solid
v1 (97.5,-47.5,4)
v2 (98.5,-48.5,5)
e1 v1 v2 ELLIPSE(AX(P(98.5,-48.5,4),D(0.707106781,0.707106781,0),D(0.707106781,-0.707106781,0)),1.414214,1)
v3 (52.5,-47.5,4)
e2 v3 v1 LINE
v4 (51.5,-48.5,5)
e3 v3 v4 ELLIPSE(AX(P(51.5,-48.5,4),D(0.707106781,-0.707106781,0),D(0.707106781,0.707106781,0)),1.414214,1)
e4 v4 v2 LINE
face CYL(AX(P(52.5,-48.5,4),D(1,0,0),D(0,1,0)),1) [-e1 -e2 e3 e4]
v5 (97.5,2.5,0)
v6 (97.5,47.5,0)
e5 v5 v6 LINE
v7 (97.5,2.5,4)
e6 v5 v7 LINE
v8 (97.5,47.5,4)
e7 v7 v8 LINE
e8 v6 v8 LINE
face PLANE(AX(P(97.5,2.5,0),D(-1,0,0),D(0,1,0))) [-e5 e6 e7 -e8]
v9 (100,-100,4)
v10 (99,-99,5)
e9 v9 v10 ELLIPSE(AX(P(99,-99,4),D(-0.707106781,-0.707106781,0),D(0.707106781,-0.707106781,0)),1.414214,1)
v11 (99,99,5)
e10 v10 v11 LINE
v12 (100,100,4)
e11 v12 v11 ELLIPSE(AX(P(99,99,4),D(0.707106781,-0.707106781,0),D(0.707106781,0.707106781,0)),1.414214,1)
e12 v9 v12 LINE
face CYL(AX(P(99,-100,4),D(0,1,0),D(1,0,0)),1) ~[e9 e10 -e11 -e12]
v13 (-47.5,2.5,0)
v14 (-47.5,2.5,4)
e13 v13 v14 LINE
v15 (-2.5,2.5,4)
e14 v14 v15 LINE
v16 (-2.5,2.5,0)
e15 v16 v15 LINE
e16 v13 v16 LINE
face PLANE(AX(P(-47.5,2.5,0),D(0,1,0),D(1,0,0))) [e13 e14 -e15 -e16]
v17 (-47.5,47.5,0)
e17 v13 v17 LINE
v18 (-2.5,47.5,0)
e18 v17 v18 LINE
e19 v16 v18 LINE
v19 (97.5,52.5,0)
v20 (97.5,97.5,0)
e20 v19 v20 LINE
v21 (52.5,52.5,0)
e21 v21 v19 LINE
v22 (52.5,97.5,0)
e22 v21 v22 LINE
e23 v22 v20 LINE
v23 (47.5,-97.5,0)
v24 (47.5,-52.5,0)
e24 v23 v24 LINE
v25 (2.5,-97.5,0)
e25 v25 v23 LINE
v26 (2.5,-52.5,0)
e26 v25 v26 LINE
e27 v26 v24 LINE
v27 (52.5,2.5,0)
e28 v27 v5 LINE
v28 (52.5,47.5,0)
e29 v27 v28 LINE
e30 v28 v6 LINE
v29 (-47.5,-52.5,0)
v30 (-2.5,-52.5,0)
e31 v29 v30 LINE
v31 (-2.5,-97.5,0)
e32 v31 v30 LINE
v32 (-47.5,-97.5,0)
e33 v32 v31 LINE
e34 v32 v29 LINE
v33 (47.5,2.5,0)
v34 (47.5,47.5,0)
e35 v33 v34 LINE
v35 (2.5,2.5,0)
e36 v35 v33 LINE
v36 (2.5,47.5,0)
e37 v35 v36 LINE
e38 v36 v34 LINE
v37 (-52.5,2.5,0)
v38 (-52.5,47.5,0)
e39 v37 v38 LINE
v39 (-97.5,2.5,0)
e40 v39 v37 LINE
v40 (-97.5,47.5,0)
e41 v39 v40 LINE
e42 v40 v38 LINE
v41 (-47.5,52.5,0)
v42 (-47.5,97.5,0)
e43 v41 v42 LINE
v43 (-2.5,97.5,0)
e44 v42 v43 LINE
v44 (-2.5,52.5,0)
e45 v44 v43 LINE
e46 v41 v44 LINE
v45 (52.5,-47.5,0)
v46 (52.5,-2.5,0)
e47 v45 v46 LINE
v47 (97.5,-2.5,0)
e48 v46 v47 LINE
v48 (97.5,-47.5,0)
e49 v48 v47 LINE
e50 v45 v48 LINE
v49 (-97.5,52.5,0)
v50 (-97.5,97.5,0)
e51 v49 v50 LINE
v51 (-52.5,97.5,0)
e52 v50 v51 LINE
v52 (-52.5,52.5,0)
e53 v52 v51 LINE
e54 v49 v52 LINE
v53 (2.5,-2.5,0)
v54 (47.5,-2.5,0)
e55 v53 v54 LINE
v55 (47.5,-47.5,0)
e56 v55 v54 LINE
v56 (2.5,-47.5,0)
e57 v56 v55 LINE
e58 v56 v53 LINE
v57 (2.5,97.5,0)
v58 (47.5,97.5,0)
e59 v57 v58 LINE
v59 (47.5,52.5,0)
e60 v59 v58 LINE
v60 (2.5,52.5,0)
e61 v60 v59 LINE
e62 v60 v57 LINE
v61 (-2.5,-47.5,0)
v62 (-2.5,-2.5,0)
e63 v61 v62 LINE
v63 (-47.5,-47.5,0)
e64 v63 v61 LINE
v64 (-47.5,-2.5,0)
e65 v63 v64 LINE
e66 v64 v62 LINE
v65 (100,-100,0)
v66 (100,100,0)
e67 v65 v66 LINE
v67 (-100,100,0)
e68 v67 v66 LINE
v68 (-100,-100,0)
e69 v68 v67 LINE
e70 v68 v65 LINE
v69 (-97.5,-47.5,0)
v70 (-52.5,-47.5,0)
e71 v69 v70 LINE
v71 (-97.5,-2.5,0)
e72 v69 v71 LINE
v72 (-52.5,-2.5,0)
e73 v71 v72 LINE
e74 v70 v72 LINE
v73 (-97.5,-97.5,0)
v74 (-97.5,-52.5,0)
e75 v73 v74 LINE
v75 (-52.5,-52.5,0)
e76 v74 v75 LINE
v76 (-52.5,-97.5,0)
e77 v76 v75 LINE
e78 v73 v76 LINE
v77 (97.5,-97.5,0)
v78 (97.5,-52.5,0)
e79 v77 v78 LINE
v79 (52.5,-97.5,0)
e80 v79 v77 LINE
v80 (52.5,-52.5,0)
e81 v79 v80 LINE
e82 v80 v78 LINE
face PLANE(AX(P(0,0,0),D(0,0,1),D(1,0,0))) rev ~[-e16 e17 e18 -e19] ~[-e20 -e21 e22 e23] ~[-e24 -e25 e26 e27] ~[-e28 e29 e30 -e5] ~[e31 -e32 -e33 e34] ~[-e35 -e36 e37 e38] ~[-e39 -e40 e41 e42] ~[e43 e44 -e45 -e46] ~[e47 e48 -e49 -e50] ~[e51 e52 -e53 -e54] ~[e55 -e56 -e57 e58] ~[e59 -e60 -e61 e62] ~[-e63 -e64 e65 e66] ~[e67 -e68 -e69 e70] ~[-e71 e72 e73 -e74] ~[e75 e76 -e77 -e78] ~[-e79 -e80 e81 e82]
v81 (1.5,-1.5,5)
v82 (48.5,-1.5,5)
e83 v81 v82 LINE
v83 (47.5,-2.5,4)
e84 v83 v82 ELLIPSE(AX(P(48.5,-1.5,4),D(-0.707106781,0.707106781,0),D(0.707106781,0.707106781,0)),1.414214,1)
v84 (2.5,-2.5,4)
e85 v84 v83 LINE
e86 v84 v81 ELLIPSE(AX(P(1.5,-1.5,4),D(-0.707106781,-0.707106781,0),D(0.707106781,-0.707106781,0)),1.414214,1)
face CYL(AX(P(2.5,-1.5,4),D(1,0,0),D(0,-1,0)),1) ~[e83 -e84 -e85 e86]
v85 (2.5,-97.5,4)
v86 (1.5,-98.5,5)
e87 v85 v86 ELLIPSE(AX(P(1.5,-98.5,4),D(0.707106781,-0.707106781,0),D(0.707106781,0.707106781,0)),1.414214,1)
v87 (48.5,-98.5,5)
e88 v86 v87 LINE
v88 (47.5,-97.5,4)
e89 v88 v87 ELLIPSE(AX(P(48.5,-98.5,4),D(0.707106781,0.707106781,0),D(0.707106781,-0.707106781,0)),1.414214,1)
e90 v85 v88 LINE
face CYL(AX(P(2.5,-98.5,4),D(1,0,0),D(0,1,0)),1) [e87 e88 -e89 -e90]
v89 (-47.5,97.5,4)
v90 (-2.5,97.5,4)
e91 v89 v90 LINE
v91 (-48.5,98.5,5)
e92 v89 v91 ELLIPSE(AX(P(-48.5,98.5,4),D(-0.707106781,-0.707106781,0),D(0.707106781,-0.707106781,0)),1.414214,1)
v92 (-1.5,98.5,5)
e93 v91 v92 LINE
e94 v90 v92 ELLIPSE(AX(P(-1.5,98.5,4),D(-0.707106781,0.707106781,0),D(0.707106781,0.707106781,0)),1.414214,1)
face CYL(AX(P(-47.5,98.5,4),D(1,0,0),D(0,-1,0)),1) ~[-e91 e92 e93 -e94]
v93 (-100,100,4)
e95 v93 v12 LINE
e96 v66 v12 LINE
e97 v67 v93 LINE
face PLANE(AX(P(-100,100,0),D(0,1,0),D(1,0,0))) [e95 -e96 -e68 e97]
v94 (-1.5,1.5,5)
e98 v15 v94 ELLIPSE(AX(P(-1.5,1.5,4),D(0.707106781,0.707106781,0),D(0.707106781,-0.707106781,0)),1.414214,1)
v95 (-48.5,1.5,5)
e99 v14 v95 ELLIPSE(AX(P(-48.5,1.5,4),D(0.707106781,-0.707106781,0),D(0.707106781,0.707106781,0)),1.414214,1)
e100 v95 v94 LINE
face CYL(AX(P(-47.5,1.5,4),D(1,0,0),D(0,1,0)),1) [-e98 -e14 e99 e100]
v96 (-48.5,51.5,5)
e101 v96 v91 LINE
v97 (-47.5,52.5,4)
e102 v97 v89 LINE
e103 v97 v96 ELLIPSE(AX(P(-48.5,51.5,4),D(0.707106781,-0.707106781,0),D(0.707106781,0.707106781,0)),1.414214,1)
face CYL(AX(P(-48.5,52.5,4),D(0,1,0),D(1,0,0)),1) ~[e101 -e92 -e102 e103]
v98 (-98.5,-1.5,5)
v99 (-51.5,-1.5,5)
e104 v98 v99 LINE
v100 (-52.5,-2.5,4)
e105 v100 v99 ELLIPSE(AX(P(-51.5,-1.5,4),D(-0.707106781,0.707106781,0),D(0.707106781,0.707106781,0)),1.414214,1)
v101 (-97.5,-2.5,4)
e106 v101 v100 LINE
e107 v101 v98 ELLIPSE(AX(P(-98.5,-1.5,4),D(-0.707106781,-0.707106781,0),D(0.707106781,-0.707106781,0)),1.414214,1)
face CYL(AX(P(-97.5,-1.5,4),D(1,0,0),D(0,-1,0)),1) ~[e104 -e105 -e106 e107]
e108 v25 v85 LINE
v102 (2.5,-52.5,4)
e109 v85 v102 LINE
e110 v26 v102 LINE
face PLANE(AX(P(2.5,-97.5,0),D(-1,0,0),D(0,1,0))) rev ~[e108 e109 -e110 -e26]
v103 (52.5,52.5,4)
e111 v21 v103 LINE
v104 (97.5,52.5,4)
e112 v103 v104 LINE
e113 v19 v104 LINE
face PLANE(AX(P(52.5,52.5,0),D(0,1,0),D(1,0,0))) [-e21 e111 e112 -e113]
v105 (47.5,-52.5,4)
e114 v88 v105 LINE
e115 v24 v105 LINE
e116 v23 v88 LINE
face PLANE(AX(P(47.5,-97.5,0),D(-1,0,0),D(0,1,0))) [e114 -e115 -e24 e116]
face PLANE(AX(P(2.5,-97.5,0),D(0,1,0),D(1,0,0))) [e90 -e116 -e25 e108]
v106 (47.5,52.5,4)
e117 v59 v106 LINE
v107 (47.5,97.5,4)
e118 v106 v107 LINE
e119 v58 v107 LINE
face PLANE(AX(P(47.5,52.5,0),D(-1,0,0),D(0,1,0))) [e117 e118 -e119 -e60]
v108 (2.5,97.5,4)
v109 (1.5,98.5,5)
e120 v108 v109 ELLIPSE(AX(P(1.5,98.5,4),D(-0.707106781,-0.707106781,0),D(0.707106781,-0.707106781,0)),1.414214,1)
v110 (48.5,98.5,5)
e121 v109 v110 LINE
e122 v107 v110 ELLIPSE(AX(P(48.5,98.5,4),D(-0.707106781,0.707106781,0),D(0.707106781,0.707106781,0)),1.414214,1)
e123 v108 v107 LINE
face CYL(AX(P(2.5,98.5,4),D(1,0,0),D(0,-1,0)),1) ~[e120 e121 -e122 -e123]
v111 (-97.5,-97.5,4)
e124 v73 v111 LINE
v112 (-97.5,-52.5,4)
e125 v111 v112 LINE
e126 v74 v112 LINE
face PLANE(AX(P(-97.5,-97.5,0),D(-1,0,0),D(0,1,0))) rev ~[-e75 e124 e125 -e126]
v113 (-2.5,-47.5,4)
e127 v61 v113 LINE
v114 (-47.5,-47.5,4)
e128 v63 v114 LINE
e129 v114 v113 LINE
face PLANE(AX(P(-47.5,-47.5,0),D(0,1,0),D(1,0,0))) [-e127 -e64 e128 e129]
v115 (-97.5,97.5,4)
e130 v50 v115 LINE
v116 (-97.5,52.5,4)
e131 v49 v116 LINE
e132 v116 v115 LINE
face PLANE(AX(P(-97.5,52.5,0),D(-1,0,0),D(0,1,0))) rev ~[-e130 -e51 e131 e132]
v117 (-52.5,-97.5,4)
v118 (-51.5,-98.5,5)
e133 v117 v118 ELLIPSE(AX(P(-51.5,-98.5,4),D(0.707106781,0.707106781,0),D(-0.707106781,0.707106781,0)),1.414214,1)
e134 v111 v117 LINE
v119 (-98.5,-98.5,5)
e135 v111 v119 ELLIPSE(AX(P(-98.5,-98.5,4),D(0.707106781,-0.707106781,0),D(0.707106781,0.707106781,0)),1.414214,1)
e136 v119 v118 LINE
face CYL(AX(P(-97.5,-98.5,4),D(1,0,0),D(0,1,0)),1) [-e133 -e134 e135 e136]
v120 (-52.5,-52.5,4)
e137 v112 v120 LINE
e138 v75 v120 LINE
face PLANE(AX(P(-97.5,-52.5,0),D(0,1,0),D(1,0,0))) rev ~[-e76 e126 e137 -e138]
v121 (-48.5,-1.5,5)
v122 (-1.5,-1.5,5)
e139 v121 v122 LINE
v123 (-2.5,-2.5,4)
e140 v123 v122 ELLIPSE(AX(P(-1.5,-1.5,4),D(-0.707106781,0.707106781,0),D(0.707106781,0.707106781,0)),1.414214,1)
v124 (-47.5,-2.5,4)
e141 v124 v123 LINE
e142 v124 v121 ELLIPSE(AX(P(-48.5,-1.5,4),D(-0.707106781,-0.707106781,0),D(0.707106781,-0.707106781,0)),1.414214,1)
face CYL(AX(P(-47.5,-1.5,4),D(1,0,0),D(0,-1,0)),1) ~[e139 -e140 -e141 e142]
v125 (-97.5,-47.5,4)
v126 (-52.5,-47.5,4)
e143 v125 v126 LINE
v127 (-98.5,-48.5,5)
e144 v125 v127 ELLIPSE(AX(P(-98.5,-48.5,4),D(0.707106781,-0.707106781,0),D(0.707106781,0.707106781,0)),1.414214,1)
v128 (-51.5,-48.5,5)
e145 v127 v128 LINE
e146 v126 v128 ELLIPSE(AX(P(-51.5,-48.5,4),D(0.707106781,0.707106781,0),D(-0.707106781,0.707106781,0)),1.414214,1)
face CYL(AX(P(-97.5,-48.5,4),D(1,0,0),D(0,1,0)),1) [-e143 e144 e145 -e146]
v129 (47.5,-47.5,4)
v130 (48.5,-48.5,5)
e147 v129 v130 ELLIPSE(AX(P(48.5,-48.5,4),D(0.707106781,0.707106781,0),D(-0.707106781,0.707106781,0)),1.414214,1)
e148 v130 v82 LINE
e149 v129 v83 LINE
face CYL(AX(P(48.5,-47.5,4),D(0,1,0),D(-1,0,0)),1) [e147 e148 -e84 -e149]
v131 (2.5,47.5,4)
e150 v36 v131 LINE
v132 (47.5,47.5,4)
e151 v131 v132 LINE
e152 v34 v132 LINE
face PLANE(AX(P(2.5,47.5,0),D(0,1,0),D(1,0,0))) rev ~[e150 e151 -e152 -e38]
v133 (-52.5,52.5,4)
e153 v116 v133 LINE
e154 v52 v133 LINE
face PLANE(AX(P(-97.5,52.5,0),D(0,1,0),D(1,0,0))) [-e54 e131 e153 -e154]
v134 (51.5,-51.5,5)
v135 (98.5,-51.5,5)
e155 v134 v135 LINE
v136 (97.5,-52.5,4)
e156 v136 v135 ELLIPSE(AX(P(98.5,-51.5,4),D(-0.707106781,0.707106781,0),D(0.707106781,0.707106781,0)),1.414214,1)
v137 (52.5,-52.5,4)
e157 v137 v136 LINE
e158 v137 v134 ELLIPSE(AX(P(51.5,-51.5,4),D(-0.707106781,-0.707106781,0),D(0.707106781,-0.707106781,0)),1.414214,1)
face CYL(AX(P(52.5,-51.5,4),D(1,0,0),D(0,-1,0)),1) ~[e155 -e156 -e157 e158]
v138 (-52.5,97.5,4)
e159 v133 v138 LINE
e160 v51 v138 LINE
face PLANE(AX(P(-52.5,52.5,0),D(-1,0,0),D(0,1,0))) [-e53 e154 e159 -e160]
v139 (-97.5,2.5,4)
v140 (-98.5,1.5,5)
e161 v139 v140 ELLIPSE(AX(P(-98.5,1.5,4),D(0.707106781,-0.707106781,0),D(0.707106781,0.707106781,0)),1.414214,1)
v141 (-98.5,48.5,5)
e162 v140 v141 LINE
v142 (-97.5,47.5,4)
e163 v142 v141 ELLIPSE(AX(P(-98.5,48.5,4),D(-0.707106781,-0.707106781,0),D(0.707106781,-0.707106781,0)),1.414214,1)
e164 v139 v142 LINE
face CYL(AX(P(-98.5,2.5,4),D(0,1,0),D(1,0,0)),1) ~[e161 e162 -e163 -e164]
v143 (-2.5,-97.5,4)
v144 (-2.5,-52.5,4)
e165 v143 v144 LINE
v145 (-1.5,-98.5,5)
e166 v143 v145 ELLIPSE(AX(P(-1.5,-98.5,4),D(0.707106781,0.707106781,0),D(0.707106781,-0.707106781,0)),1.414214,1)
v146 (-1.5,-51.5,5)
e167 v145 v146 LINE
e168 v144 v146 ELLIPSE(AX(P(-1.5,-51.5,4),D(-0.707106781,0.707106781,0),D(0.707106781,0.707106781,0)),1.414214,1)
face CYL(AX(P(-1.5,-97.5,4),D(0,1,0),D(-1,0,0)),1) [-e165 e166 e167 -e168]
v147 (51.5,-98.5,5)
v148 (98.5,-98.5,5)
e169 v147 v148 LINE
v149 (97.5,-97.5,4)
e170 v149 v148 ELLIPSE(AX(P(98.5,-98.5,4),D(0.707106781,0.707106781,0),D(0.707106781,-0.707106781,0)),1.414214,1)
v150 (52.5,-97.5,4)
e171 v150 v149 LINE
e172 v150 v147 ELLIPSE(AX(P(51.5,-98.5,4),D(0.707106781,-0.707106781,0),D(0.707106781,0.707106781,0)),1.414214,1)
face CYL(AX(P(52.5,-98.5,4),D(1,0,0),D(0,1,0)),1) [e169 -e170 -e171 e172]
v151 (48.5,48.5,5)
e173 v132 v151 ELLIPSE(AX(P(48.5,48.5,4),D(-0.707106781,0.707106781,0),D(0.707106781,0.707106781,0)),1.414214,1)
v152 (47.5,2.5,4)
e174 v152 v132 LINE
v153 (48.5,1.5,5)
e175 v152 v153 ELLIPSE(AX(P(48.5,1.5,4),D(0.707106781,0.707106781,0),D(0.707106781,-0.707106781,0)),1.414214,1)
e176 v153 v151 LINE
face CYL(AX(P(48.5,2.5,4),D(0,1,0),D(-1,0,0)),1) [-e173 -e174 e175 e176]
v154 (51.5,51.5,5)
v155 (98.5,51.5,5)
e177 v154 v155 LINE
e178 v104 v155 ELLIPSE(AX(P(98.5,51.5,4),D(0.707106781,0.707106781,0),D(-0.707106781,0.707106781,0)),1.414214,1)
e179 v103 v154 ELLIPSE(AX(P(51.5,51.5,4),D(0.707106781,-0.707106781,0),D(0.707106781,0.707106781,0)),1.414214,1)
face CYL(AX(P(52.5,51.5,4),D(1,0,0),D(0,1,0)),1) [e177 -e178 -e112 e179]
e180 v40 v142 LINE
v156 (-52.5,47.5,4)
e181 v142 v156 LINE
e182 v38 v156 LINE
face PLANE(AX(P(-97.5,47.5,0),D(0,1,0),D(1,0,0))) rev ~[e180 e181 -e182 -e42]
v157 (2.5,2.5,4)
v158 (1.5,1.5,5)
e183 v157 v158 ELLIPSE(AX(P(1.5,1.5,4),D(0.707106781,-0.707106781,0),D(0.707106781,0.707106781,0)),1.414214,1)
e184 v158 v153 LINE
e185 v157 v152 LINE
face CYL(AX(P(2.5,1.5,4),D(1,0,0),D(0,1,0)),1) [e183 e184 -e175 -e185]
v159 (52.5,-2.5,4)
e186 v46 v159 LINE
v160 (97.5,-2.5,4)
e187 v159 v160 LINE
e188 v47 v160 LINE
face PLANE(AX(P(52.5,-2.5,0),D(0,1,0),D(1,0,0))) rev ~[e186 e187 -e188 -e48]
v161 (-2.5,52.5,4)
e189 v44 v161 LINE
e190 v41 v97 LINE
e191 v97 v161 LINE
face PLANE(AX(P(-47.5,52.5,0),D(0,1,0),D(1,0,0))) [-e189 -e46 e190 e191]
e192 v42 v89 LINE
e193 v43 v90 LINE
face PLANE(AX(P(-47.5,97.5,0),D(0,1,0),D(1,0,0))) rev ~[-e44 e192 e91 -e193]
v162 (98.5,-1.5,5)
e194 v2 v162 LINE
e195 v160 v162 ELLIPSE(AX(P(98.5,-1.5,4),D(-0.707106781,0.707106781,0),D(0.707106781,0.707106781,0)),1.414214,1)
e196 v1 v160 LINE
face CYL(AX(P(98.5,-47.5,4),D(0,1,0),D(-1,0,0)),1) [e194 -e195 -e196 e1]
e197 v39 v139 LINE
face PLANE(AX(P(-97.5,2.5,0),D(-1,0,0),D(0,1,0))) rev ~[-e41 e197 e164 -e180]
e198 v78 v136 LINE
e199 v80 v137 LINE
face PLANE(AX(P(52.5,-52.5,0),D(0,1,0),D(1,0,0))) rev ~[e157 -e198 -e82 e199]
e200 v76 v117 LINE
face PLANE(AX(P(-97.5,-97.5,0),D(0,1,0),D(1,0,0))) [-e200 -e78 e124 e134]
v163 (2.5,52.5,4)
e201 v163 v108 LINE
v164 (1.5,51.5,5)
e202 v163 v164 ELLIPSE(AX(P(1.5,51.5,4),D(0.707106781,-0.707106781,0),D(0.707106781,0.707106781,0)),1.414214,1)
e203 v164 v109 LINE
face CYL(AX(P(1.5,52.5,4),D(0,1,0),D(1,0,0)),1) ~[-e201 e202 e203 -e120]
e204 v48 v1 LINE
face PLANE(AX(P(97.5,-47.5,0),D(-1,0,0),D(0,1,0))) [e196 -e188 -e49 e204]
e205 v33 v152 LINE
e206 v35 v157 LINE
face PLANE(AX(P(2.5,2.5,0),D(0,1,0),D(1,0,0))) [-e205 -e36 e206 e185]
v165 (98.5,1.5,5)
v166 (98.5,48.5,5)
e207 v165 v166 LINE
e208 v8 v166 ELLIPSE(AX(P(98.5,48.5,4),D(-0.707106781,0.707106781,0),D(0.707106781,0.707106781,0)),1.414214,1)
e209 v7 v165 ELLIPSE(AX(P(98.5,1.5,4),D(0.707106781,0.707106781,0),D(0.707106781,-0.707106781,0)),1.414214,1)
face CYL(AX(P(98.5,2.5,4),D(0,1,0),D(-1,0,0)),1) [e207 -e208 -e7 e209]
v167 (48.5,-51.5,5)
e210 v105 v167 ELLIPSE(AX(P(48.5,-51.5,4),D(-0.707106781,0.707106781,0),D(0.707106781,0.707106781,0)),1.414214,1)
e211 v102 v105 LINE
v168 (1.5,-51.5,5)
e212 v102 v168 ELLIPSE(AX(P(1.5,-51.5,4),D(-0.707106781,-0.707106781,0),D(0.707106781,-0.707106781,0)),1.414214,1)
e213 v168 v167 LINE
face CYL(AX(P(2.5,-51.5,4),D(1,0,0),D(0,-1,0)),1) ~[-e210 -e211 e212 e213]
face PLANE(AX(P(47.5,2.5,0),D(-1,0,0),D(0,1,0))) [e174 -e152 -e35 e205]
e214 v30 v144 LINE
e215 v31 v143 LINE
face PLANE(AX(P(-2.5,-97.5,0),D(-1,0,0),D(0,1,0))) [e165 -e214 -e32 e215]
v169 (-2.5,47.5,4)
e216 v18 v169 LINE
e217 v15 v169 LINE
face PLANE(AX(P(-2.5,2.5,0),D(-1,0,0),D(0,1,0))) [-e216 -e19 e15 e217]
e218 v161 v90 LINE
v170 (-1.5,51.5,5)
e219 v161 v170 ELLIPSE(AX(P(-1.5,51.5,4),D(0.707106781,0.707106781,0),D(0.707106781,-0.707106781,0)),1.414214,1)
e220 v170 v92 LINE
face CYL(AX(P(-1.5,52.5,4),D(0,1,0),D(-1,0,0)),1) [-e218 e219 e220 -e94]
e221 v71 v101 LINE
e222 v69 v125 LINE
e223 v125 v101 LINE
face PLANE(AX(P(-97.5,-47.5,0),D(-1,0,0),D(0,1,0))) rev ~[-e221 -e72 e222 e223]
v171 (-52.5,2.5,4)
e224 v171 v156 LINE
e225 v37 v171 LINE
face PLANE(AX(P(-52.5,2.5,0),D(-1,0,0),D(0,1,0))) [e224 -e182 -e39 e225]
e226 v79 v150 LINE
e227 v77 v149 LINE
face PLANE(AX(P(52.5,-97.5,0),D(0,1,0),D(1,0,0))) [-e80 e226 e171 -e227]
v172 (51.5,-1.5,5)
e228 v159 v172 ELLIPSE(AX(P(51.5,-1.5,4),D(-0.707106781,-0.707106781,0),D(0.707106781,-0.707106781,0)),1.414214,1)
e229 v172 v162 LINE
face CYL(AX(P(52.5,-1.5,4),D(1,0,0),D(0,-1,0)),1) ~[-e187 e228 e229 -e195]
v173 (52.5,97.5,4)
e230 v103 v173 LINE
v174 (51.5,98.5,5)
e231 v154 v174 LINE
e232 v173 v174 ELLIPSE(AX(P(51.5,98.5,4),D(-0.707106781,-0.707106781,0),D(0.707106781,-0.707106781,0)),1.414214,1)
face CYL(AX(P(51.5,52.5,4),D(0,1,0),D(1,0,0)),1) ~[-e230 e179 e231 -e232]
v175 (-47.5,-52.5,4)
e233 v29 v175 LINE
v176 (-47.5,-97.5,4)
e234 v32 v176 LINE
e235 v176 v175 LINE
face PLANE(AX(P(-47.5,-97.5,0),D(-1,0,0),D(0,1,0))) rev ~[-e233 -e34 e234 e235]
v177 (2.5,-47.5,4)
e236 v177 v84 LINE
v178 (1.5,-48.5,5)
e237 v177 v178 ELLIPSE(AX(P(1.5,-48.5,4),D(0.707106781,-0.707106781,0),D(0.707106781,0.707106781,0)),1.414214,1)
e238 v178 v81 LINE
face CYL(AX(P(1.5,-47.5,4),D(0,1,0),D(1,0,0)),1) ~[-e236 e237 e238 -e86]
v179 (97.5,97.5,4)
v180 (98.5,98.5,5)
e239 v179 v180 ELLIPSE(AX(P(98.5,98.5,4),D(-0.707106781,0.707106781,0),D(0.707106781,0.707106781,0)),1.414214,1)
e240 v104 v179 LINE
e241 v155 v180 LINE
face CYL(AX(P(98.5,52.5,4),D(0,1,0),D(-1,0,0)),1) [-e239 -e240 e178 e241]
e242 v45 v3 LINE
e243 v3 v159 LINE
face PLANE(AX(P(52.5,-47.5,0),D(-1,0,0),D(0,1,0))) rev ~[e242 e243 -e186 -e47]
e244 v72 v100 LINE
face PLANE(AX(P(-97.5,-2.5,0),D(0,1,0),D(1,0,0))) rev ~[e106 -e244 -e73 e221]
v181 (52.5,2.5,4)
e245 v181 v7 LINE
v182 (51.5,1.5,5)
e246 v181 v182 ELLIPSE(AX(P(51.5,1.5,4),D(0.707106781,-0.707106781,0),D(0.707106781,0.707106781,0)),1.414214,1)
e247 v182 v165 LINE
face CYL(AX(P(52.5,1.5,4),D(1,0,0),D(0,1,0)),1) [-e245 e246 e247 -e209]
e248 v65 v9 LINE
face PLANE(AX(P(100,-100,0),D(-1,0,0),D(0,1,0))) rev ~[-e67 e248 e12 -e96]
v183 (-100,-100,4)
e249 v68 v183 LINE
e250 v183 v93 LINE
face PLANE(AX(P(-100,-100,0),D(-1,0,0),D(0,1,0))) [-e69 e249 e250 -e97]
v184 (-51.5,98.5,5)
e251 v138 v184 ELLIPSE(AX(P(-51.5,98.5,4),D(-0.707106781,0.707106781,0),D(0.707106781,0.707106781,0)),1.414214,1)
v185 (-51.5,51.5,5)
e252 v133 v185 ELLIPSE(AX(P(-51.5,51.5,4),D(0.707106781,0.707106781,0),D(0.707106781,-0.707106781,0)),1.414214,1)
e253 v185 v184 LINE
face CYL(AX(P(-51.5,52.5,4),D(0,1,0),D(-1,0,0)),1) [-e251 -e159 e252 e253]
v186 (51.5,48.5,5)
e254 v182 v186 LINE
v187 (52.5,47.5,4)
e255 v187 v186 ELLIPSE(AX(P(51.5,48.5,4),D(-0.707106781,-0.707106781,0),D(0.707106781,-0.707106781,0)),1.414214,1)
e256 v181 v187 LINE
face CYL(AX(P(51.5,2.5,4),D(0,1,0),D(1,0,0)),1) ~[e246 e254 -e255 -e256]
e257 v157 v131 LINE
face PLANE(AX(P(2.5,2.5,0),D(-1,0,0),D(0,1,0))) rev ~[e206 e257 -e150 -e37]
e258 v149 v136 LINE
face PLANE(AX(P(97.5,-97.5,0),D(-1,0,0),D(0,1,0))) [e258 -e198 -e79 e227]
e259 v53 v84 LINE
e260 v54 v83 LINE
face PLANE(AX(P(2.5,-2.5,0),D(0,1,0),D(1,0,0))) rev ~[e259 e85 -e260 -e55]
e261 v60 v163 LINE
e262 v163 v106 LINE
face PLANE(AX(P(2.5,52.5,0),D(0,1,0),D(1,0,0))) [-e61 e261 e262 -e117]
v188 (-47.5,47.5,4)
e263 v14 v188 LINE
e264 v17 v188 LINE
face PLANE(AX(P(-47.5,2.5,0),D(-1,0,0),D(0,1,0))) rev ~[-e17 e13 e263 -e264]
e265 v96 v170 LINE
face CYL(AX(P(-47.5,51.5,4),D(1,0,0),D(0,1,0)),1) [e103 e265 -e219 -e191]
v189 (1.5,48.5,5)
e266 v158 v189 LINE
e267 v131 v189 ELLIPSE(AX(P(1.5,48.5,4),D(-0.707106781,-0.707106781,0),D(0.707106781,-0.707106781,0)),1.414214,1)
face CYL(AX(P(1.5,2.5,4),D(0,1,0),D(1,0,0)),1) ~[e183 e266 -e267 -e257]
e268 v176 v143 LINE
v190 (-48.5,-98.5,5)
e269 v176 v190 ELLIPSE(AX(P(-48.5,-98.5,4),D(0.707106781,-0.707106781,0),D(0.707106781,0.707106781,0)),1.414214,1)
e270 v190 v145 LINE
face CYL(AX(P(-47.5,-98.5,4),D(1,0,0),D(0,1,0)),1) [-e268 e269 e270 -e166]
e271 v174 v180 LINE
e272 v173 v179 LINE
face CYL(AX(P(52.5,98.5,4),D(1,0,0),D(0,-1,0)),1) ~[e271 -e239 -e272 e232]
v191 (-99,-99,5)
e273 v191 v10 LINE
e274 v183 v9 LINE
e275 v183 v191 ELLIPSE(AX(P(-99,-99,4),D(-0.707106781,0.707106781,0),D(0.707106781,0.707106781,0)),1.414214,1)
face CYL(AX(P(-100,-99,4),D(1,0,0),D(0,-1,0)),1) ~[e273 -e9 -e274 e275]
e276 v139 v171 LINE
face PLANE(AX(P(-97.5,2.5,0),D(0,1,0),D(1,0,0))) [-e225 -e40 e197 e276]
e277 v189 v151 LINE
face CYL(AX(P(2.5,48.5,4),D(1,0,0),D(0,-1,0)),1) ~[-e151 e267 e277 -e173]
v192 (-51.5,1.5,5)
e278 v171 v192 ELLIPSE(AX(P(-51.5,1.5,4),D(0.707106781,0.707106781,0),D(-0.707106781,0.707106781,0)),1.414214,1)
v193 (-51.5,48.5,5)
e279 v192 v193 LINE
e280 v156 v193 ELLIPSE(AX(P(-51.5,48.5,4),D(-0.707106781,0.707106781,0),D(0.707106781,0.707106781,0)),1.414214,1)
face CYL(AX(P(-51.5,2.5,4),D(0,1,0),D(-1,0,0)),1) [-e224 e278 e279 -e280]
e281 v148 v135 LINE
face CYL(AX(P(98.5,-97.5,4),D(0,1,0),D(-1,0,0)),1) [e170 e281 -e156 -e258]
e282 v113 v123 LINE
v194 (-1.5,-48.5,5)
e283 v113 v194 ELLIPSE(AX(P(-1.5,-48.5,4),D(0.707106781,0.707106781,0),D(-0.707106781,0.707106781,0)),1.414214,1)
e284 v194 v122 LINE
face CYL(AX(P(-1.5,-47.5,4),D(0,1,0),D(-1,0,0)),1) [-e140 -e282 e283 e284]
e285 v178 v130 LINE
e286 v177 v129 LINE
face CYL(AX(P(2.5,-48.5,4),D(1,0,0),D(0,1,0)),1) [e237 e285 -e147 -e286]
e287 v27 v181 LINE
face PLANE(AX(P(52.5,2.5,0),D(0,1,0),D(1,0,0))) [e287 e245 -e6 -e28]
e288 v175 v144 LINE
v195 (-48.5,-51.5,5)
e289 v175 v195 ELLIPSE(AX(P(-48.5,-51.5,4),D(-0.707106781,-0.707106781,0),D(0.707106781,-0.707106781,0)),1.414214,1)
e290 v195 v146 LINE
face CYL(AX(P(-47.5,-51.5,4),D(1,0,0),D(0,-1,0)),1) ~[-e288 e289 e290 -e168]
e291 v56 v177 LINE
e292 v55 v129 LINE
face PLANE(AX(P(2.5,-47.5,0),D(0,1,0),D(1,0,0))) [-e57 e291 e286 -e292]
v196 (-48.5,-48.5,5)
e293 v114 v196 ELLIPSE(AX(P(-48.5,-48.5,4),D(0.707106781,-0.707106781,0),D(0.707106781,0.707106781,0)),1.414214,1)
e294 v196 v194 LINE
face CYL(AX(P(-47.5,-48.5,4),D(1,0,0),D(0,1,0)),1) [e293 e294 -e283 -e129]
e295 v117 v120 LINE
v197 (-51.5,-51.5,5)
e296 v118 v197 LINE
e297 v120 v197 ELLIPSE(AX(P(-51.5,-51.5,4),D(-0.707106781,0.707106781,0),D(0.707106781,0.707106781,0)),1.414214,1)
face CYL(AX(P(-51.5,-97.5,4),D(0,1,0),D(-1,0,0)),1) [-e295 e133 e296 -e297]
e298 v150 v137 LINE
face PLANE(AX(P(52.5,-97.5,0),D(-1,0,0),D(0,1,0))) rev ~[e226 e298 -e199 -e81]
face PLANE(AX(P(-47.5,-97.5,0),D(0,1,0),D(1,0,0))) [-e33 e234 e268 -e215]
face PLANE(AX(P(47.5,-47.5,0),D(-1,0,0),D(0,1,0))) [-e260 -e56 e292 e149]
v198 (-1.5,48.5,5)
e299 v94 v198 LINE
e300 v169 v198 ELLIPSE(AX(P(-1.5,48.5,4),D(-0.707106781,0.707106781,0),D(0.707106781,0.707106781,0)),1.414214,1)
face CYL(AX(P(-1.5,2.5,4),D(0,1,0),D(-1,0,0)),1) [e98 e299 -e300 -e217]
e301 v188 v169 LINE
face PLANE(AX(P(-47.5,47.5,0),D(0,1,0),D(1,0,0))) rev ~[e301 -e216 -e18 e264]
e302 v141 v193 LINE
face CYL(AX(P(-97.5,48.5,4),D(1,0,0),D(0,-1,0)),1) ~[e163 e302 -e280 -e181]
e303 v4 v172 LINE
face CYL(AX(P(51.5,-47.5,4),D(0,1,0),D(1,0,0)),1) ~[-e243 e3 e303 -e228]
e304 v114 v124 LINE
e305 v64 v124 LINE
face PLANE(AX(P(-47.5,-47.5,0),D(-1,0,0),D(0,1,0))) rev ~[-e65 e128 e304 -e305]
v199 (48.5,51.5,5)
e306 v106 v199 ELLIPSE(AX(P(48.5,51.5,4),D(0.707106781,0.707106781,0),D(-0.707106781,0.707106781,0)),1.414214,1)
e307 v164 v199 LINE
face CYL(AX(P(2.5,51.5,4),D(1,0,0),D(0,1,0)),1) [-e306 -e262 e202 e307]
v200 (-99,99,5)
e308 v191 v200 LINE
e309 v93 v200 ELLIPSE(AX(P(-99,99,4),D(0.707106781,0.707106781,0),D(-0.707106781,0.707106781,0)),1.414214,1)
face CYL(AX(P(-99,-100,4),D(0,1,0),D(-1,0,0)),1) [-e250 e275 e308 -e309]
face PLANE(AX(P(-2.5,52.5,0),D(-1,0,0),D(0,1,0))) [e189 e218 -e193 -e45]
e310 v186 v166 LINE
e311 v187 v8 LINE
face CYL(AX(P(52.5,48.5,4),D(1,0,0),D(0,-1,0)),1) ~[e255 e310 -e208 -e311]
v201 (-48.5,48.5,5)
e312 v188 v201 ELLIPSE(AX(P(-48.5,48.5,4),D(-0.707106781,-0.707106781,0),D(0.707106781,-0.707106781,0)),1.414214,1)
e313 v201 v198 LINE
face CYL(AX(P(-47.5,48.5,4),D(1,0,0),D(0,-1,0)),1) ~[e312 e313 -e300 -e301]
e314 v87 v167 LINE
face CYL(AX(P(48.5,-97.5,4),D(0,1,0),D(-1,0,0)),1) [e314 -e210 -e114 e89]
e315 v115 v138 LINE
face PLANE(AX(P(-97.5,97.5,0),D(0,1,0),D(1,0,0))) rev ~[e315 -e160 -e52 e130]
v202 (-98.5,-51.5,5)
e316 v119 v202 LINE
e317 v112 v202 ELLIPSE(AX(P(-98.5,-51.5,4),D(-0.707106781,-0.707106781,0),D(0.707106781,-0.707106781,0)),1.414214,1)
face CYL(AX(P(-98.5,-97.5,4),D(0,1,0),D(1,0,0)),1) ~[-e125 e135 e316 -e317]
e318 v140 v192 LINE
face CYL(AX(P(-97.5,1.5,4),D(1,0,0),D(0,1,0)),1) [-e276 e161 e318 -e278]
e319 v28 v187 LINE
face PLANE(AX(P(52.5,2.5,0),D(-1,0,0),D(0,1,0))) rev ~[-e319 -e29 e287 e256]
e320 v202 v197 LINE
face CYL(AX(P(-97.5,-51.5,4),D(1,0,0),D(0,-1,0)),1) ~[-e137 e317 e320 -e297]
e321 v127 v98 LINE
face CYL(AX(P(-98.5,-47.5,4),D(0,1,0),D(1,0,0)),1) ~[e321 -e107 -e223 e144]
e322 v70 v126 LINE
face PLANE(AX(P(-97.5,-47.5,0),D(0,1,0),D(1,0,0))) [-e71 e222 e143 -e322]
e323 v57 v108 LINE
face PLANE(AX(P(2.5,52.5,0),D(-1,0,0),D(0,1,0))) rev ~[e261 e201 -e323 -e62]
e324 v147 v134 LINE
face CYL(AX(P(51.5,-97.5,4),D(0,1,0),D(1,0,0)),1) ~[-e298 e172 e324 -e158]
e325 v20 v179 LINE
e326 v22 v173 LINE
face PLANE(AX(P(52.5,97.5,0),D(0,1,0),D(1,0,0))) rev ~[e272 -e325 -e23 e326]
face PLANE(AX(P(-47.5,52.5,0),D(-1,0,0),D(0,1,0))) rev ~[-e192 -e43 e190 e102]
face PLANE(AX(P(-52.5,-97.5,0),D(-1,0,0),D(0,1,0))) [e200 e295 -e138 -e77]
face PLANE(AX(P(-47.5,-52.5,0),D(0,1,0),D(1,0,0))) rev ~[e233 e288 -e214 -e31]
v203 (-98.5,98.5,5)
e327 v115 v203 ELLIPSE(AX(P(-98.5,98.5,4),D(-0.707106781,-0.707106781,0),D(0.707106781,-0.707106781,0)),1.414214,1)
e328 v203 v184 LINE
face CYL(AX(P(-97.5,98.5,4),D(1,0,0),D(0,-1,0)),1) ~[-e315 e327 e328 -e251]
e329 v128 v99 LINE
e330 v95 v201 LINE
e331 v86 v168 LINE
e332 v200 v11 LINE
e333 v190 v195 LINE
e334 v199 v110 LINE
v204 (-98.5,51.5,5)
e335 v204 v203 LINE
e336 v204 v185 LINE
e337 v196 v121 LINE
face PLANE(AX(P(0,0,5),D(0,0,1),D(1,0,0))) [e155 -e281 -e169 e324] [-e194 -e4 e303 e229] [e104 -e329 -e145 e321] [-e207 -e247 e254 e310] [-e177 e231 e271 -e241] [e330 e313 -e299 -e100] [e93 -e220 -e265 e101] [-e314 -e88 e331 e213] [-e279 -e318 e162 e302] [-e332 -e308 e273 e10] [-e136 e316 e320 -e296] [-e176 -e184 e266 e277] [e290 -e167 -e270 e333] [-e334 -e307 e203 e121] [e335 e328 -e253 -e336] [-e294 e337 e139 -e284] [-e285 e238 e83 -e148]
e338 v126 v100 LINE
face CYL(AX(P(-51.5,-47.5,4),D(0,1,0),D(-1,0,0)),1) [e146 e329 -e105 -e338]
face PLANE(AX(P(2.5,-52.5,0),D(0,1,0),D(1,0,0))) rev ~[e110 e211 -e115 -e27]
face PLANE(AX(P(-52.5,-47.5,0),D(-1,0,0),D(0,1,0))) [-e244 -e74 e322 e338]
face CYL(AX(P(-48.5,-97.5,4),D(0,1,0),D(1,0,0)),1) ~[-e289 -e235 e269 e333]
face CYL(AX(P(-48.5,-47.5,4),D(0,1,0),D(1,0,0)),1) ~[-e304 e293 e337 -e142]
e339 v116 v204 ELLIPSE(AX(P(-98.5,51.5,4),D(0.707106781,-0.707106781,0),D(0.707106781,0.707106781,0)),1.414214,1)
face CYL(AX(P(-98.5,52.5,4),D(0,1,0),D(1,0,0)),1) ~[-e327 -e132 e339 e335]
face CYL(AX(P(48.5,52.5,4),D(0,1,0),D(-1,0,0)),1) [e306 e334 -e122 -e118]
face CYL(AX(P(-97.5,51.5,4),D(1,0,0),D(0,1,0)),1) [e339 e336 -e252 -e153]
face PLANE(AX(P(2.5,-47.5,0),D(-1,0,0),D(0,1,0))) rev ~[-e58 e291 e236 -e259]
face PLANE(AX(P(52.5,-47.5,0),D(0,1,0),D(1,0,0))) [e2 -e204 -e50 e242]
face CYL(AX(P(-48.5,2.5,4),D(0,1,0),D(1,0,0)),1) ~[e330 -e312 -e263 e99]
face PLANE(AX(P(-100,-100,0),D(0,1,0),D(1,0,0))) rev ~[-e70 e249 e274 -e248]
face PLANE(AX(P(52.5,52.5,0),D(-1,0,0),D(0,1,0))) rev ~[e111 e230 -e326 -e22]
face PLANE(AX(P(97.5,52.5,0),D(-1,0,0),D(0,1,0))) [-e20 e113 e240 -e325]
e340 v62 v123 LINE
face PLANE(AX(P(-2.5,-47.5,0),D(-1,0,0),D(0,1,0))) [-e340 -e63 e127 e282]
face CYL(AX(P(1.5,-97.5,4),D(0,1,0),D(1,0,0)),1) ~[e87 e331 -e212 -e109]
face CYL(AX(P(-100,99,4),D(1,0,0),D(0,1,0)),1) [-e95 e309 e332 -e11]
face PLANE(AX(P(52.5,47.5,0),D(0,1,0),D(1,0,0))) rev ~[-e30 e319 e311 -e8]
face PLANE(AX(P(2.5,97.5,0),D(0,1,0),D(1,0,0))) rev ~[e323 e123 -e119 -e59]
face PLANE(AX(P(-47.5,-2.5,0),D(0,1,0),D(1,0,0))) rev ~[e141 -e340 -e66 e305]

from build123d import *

# Parameters (mm, degrees)
SKETCH2_W           = 200
SKETCH2_H           = 200
SKETCH2_W_2         = 45
SKETCH2_H_2         = 45
BOSS_EXTRUDE1_DEPTH = 5
FILLET2_R           = 1


with BuildPart() as part:
    # Sketch2 → Boss-Extrude1 (new body)
    with BuildSketch(Plane.XY):
        Rectangle(SKETCH2_W, SKETCH2_H)
        with Locations((-25, -75)):
            Rectangle(SKETCH2_W_2, SKETCH2_H_2, mode=Mode.SUBTRACT)
        with Locations((-75, 75)):
            Rectangle(SKETCH2_W_2, SKETCH2_H_2, mode=Mode.SUBTRACT)
        with Locations((-75, -75)):
            Rectangle(SKETCH2_W_2, SKETCH2_H_2, mode=Mode.SUBTRACT)
        with Locations((25, -75)):
            Rectangle(SKETCH2_W_2, SKETCH2_H_2, mode=Mode.SUBTRACT)
        with Locations((75, -75)):
            Rectangle(SKETCH2_W_2, SKETCH2_H_2, mode=Mode.SUBTRACT)
        with Locations((-25, 75)):
            Rectangle(SKETCH2_W_2, SKETCH2_H_2, mode=Mode.SUBTRACT)
        with Locations((75, -25)):
            Rectangle(SKETCH2_W_2, SKETCH2_H_2, mode=Mode.SUBTRACT)
        with Locations((75, 25)):
            Rectangle(SKETCH2_W_2, SKETCH2_H_2, mode=Mode.SUBTRACT)
        with Locations((25, 75)):
            Rectangle(SKETCH2_W_2, SKETCH2_H_2, mode=Mode.SUBTRACT)
        with Locations((75, 75)):
            Rectangle(SKETCH2_W_2, SKETCH2_H_2, mode=Mode.SUBTRACT)
        with Locations((-75, -25)):
            Rectangle(SKETCH2_W_2, SKETCH2_H_2, mode=Mode.SUBTRACT)
        with Locations((-75, 25)):
            Rectangle(SKETCH2_W_2, SKETCH2_H_2, mode=Mode.SUBTRACT)
        with Locations((25, -25)):
            Rectangle(SKETCH2_W_2, SKETCH2_H_2, mode=Mode.SUBTRACT)
        with Locations((-25, -25)):
            Rectangle(SKETCH2_W_2, SKETCH2_H_2, mode=Mode.SUBTRACT)
        with Locations((-25, 25)):
            Rectangle(SKETCH2_W_2, SKETCH2_H_2, mode=Mode.SUBTRACT)
        with Locations((25, 25)):
            Rectangle(SKETCH2_W_2, SKETCH2_H_2, mode=Mode.SUBTRACT)
    extrude(amount=BOSS_EXTRUDE1_DEPTH)

    # Fillet2
    fillet2_edges = [part.edges().sort_by_distance(p)[0] for p in [
        (75, -2.5, 5),
        (52.5, -25, 5),
        (75, -47.5, 5),
        (97.5, -25, 5),
        (25, 47.5, 5),
        (2.5, 25, 5),
        (25, 2.5, 5),
        (47.5, 25, 5),
        (-100, 0, 5),
        (75, 47.5, 5),
        (52.5, 25, 5),
        (75, 2.5, 5),
        (97.5, 25, 5),
        (-25, 97.5, 5),
        (-47.5, 75, 5),
        (-25, 52.5, 5),
        (-2.5, 75, 5),
        (47.5, 75, 5),
        (25, 97.5, 5),
        (2.5, 75, 5),
        (25, 52.5, 5),
        (47.5, -25, 5),
        (0, -100, 5),
        (25, -2.5, 5),
        (97.5, 75, 5),
        (75, 97.5, 5),
        (52.5, 75, 5),
        (75, 52.5, 5),
        (2.5, -25, 5),
        (25, -47.5, 5),
        (-52.5, -25, 5),
        (-75, -2.5, 5),
        (-97.5, -25, 5),
        (-75, -47.5, 5),
        (-52.5, 25, 5),
        (-75, 47.5, 5),
        (-97.5, 25, 5),
        (-75, 2.5, 5),
        (-75, 97.5, 5),
        (-97.5, 75, 5),
        (-75, 52.5, 5),
        (-52.5, 75, 5),
        (-52.5, -75, 5),
        (-75, -52.5, 5),
        (-97.5, -75, 5),
        (-75, -97.5, 5),
        (-25, 47.5, 5),
        (-47.5, 25, 5),
        (-25, 2.5, 5),
        (-2.5, 25, 5),
        (100, 0, 5),
        (-25, -52.5, 5),
        (-47.5, -75, 5),
        (-25, -97.5, 5),
        (-2.5, -75, 5),
        (25, -52.5, 5),
        (2.5, -75, 5),
        (25, -97.5, 5),
        (47.5, -75, 5),
        (75, -52.5, 5),
        (52.5, -75, 5),
        (75, -97.5, 5),
        (97.5, -75, 5),
        (0, 100, 5),
        (-2.5, -25, 5),
        (-25, -2.5, 5),
        (-47.5, -25, 5),
        (-25, -47.5, 5),
    ]]
    fillet(fillet2_edges, radius=FILLET2_R)


solid = part.part
